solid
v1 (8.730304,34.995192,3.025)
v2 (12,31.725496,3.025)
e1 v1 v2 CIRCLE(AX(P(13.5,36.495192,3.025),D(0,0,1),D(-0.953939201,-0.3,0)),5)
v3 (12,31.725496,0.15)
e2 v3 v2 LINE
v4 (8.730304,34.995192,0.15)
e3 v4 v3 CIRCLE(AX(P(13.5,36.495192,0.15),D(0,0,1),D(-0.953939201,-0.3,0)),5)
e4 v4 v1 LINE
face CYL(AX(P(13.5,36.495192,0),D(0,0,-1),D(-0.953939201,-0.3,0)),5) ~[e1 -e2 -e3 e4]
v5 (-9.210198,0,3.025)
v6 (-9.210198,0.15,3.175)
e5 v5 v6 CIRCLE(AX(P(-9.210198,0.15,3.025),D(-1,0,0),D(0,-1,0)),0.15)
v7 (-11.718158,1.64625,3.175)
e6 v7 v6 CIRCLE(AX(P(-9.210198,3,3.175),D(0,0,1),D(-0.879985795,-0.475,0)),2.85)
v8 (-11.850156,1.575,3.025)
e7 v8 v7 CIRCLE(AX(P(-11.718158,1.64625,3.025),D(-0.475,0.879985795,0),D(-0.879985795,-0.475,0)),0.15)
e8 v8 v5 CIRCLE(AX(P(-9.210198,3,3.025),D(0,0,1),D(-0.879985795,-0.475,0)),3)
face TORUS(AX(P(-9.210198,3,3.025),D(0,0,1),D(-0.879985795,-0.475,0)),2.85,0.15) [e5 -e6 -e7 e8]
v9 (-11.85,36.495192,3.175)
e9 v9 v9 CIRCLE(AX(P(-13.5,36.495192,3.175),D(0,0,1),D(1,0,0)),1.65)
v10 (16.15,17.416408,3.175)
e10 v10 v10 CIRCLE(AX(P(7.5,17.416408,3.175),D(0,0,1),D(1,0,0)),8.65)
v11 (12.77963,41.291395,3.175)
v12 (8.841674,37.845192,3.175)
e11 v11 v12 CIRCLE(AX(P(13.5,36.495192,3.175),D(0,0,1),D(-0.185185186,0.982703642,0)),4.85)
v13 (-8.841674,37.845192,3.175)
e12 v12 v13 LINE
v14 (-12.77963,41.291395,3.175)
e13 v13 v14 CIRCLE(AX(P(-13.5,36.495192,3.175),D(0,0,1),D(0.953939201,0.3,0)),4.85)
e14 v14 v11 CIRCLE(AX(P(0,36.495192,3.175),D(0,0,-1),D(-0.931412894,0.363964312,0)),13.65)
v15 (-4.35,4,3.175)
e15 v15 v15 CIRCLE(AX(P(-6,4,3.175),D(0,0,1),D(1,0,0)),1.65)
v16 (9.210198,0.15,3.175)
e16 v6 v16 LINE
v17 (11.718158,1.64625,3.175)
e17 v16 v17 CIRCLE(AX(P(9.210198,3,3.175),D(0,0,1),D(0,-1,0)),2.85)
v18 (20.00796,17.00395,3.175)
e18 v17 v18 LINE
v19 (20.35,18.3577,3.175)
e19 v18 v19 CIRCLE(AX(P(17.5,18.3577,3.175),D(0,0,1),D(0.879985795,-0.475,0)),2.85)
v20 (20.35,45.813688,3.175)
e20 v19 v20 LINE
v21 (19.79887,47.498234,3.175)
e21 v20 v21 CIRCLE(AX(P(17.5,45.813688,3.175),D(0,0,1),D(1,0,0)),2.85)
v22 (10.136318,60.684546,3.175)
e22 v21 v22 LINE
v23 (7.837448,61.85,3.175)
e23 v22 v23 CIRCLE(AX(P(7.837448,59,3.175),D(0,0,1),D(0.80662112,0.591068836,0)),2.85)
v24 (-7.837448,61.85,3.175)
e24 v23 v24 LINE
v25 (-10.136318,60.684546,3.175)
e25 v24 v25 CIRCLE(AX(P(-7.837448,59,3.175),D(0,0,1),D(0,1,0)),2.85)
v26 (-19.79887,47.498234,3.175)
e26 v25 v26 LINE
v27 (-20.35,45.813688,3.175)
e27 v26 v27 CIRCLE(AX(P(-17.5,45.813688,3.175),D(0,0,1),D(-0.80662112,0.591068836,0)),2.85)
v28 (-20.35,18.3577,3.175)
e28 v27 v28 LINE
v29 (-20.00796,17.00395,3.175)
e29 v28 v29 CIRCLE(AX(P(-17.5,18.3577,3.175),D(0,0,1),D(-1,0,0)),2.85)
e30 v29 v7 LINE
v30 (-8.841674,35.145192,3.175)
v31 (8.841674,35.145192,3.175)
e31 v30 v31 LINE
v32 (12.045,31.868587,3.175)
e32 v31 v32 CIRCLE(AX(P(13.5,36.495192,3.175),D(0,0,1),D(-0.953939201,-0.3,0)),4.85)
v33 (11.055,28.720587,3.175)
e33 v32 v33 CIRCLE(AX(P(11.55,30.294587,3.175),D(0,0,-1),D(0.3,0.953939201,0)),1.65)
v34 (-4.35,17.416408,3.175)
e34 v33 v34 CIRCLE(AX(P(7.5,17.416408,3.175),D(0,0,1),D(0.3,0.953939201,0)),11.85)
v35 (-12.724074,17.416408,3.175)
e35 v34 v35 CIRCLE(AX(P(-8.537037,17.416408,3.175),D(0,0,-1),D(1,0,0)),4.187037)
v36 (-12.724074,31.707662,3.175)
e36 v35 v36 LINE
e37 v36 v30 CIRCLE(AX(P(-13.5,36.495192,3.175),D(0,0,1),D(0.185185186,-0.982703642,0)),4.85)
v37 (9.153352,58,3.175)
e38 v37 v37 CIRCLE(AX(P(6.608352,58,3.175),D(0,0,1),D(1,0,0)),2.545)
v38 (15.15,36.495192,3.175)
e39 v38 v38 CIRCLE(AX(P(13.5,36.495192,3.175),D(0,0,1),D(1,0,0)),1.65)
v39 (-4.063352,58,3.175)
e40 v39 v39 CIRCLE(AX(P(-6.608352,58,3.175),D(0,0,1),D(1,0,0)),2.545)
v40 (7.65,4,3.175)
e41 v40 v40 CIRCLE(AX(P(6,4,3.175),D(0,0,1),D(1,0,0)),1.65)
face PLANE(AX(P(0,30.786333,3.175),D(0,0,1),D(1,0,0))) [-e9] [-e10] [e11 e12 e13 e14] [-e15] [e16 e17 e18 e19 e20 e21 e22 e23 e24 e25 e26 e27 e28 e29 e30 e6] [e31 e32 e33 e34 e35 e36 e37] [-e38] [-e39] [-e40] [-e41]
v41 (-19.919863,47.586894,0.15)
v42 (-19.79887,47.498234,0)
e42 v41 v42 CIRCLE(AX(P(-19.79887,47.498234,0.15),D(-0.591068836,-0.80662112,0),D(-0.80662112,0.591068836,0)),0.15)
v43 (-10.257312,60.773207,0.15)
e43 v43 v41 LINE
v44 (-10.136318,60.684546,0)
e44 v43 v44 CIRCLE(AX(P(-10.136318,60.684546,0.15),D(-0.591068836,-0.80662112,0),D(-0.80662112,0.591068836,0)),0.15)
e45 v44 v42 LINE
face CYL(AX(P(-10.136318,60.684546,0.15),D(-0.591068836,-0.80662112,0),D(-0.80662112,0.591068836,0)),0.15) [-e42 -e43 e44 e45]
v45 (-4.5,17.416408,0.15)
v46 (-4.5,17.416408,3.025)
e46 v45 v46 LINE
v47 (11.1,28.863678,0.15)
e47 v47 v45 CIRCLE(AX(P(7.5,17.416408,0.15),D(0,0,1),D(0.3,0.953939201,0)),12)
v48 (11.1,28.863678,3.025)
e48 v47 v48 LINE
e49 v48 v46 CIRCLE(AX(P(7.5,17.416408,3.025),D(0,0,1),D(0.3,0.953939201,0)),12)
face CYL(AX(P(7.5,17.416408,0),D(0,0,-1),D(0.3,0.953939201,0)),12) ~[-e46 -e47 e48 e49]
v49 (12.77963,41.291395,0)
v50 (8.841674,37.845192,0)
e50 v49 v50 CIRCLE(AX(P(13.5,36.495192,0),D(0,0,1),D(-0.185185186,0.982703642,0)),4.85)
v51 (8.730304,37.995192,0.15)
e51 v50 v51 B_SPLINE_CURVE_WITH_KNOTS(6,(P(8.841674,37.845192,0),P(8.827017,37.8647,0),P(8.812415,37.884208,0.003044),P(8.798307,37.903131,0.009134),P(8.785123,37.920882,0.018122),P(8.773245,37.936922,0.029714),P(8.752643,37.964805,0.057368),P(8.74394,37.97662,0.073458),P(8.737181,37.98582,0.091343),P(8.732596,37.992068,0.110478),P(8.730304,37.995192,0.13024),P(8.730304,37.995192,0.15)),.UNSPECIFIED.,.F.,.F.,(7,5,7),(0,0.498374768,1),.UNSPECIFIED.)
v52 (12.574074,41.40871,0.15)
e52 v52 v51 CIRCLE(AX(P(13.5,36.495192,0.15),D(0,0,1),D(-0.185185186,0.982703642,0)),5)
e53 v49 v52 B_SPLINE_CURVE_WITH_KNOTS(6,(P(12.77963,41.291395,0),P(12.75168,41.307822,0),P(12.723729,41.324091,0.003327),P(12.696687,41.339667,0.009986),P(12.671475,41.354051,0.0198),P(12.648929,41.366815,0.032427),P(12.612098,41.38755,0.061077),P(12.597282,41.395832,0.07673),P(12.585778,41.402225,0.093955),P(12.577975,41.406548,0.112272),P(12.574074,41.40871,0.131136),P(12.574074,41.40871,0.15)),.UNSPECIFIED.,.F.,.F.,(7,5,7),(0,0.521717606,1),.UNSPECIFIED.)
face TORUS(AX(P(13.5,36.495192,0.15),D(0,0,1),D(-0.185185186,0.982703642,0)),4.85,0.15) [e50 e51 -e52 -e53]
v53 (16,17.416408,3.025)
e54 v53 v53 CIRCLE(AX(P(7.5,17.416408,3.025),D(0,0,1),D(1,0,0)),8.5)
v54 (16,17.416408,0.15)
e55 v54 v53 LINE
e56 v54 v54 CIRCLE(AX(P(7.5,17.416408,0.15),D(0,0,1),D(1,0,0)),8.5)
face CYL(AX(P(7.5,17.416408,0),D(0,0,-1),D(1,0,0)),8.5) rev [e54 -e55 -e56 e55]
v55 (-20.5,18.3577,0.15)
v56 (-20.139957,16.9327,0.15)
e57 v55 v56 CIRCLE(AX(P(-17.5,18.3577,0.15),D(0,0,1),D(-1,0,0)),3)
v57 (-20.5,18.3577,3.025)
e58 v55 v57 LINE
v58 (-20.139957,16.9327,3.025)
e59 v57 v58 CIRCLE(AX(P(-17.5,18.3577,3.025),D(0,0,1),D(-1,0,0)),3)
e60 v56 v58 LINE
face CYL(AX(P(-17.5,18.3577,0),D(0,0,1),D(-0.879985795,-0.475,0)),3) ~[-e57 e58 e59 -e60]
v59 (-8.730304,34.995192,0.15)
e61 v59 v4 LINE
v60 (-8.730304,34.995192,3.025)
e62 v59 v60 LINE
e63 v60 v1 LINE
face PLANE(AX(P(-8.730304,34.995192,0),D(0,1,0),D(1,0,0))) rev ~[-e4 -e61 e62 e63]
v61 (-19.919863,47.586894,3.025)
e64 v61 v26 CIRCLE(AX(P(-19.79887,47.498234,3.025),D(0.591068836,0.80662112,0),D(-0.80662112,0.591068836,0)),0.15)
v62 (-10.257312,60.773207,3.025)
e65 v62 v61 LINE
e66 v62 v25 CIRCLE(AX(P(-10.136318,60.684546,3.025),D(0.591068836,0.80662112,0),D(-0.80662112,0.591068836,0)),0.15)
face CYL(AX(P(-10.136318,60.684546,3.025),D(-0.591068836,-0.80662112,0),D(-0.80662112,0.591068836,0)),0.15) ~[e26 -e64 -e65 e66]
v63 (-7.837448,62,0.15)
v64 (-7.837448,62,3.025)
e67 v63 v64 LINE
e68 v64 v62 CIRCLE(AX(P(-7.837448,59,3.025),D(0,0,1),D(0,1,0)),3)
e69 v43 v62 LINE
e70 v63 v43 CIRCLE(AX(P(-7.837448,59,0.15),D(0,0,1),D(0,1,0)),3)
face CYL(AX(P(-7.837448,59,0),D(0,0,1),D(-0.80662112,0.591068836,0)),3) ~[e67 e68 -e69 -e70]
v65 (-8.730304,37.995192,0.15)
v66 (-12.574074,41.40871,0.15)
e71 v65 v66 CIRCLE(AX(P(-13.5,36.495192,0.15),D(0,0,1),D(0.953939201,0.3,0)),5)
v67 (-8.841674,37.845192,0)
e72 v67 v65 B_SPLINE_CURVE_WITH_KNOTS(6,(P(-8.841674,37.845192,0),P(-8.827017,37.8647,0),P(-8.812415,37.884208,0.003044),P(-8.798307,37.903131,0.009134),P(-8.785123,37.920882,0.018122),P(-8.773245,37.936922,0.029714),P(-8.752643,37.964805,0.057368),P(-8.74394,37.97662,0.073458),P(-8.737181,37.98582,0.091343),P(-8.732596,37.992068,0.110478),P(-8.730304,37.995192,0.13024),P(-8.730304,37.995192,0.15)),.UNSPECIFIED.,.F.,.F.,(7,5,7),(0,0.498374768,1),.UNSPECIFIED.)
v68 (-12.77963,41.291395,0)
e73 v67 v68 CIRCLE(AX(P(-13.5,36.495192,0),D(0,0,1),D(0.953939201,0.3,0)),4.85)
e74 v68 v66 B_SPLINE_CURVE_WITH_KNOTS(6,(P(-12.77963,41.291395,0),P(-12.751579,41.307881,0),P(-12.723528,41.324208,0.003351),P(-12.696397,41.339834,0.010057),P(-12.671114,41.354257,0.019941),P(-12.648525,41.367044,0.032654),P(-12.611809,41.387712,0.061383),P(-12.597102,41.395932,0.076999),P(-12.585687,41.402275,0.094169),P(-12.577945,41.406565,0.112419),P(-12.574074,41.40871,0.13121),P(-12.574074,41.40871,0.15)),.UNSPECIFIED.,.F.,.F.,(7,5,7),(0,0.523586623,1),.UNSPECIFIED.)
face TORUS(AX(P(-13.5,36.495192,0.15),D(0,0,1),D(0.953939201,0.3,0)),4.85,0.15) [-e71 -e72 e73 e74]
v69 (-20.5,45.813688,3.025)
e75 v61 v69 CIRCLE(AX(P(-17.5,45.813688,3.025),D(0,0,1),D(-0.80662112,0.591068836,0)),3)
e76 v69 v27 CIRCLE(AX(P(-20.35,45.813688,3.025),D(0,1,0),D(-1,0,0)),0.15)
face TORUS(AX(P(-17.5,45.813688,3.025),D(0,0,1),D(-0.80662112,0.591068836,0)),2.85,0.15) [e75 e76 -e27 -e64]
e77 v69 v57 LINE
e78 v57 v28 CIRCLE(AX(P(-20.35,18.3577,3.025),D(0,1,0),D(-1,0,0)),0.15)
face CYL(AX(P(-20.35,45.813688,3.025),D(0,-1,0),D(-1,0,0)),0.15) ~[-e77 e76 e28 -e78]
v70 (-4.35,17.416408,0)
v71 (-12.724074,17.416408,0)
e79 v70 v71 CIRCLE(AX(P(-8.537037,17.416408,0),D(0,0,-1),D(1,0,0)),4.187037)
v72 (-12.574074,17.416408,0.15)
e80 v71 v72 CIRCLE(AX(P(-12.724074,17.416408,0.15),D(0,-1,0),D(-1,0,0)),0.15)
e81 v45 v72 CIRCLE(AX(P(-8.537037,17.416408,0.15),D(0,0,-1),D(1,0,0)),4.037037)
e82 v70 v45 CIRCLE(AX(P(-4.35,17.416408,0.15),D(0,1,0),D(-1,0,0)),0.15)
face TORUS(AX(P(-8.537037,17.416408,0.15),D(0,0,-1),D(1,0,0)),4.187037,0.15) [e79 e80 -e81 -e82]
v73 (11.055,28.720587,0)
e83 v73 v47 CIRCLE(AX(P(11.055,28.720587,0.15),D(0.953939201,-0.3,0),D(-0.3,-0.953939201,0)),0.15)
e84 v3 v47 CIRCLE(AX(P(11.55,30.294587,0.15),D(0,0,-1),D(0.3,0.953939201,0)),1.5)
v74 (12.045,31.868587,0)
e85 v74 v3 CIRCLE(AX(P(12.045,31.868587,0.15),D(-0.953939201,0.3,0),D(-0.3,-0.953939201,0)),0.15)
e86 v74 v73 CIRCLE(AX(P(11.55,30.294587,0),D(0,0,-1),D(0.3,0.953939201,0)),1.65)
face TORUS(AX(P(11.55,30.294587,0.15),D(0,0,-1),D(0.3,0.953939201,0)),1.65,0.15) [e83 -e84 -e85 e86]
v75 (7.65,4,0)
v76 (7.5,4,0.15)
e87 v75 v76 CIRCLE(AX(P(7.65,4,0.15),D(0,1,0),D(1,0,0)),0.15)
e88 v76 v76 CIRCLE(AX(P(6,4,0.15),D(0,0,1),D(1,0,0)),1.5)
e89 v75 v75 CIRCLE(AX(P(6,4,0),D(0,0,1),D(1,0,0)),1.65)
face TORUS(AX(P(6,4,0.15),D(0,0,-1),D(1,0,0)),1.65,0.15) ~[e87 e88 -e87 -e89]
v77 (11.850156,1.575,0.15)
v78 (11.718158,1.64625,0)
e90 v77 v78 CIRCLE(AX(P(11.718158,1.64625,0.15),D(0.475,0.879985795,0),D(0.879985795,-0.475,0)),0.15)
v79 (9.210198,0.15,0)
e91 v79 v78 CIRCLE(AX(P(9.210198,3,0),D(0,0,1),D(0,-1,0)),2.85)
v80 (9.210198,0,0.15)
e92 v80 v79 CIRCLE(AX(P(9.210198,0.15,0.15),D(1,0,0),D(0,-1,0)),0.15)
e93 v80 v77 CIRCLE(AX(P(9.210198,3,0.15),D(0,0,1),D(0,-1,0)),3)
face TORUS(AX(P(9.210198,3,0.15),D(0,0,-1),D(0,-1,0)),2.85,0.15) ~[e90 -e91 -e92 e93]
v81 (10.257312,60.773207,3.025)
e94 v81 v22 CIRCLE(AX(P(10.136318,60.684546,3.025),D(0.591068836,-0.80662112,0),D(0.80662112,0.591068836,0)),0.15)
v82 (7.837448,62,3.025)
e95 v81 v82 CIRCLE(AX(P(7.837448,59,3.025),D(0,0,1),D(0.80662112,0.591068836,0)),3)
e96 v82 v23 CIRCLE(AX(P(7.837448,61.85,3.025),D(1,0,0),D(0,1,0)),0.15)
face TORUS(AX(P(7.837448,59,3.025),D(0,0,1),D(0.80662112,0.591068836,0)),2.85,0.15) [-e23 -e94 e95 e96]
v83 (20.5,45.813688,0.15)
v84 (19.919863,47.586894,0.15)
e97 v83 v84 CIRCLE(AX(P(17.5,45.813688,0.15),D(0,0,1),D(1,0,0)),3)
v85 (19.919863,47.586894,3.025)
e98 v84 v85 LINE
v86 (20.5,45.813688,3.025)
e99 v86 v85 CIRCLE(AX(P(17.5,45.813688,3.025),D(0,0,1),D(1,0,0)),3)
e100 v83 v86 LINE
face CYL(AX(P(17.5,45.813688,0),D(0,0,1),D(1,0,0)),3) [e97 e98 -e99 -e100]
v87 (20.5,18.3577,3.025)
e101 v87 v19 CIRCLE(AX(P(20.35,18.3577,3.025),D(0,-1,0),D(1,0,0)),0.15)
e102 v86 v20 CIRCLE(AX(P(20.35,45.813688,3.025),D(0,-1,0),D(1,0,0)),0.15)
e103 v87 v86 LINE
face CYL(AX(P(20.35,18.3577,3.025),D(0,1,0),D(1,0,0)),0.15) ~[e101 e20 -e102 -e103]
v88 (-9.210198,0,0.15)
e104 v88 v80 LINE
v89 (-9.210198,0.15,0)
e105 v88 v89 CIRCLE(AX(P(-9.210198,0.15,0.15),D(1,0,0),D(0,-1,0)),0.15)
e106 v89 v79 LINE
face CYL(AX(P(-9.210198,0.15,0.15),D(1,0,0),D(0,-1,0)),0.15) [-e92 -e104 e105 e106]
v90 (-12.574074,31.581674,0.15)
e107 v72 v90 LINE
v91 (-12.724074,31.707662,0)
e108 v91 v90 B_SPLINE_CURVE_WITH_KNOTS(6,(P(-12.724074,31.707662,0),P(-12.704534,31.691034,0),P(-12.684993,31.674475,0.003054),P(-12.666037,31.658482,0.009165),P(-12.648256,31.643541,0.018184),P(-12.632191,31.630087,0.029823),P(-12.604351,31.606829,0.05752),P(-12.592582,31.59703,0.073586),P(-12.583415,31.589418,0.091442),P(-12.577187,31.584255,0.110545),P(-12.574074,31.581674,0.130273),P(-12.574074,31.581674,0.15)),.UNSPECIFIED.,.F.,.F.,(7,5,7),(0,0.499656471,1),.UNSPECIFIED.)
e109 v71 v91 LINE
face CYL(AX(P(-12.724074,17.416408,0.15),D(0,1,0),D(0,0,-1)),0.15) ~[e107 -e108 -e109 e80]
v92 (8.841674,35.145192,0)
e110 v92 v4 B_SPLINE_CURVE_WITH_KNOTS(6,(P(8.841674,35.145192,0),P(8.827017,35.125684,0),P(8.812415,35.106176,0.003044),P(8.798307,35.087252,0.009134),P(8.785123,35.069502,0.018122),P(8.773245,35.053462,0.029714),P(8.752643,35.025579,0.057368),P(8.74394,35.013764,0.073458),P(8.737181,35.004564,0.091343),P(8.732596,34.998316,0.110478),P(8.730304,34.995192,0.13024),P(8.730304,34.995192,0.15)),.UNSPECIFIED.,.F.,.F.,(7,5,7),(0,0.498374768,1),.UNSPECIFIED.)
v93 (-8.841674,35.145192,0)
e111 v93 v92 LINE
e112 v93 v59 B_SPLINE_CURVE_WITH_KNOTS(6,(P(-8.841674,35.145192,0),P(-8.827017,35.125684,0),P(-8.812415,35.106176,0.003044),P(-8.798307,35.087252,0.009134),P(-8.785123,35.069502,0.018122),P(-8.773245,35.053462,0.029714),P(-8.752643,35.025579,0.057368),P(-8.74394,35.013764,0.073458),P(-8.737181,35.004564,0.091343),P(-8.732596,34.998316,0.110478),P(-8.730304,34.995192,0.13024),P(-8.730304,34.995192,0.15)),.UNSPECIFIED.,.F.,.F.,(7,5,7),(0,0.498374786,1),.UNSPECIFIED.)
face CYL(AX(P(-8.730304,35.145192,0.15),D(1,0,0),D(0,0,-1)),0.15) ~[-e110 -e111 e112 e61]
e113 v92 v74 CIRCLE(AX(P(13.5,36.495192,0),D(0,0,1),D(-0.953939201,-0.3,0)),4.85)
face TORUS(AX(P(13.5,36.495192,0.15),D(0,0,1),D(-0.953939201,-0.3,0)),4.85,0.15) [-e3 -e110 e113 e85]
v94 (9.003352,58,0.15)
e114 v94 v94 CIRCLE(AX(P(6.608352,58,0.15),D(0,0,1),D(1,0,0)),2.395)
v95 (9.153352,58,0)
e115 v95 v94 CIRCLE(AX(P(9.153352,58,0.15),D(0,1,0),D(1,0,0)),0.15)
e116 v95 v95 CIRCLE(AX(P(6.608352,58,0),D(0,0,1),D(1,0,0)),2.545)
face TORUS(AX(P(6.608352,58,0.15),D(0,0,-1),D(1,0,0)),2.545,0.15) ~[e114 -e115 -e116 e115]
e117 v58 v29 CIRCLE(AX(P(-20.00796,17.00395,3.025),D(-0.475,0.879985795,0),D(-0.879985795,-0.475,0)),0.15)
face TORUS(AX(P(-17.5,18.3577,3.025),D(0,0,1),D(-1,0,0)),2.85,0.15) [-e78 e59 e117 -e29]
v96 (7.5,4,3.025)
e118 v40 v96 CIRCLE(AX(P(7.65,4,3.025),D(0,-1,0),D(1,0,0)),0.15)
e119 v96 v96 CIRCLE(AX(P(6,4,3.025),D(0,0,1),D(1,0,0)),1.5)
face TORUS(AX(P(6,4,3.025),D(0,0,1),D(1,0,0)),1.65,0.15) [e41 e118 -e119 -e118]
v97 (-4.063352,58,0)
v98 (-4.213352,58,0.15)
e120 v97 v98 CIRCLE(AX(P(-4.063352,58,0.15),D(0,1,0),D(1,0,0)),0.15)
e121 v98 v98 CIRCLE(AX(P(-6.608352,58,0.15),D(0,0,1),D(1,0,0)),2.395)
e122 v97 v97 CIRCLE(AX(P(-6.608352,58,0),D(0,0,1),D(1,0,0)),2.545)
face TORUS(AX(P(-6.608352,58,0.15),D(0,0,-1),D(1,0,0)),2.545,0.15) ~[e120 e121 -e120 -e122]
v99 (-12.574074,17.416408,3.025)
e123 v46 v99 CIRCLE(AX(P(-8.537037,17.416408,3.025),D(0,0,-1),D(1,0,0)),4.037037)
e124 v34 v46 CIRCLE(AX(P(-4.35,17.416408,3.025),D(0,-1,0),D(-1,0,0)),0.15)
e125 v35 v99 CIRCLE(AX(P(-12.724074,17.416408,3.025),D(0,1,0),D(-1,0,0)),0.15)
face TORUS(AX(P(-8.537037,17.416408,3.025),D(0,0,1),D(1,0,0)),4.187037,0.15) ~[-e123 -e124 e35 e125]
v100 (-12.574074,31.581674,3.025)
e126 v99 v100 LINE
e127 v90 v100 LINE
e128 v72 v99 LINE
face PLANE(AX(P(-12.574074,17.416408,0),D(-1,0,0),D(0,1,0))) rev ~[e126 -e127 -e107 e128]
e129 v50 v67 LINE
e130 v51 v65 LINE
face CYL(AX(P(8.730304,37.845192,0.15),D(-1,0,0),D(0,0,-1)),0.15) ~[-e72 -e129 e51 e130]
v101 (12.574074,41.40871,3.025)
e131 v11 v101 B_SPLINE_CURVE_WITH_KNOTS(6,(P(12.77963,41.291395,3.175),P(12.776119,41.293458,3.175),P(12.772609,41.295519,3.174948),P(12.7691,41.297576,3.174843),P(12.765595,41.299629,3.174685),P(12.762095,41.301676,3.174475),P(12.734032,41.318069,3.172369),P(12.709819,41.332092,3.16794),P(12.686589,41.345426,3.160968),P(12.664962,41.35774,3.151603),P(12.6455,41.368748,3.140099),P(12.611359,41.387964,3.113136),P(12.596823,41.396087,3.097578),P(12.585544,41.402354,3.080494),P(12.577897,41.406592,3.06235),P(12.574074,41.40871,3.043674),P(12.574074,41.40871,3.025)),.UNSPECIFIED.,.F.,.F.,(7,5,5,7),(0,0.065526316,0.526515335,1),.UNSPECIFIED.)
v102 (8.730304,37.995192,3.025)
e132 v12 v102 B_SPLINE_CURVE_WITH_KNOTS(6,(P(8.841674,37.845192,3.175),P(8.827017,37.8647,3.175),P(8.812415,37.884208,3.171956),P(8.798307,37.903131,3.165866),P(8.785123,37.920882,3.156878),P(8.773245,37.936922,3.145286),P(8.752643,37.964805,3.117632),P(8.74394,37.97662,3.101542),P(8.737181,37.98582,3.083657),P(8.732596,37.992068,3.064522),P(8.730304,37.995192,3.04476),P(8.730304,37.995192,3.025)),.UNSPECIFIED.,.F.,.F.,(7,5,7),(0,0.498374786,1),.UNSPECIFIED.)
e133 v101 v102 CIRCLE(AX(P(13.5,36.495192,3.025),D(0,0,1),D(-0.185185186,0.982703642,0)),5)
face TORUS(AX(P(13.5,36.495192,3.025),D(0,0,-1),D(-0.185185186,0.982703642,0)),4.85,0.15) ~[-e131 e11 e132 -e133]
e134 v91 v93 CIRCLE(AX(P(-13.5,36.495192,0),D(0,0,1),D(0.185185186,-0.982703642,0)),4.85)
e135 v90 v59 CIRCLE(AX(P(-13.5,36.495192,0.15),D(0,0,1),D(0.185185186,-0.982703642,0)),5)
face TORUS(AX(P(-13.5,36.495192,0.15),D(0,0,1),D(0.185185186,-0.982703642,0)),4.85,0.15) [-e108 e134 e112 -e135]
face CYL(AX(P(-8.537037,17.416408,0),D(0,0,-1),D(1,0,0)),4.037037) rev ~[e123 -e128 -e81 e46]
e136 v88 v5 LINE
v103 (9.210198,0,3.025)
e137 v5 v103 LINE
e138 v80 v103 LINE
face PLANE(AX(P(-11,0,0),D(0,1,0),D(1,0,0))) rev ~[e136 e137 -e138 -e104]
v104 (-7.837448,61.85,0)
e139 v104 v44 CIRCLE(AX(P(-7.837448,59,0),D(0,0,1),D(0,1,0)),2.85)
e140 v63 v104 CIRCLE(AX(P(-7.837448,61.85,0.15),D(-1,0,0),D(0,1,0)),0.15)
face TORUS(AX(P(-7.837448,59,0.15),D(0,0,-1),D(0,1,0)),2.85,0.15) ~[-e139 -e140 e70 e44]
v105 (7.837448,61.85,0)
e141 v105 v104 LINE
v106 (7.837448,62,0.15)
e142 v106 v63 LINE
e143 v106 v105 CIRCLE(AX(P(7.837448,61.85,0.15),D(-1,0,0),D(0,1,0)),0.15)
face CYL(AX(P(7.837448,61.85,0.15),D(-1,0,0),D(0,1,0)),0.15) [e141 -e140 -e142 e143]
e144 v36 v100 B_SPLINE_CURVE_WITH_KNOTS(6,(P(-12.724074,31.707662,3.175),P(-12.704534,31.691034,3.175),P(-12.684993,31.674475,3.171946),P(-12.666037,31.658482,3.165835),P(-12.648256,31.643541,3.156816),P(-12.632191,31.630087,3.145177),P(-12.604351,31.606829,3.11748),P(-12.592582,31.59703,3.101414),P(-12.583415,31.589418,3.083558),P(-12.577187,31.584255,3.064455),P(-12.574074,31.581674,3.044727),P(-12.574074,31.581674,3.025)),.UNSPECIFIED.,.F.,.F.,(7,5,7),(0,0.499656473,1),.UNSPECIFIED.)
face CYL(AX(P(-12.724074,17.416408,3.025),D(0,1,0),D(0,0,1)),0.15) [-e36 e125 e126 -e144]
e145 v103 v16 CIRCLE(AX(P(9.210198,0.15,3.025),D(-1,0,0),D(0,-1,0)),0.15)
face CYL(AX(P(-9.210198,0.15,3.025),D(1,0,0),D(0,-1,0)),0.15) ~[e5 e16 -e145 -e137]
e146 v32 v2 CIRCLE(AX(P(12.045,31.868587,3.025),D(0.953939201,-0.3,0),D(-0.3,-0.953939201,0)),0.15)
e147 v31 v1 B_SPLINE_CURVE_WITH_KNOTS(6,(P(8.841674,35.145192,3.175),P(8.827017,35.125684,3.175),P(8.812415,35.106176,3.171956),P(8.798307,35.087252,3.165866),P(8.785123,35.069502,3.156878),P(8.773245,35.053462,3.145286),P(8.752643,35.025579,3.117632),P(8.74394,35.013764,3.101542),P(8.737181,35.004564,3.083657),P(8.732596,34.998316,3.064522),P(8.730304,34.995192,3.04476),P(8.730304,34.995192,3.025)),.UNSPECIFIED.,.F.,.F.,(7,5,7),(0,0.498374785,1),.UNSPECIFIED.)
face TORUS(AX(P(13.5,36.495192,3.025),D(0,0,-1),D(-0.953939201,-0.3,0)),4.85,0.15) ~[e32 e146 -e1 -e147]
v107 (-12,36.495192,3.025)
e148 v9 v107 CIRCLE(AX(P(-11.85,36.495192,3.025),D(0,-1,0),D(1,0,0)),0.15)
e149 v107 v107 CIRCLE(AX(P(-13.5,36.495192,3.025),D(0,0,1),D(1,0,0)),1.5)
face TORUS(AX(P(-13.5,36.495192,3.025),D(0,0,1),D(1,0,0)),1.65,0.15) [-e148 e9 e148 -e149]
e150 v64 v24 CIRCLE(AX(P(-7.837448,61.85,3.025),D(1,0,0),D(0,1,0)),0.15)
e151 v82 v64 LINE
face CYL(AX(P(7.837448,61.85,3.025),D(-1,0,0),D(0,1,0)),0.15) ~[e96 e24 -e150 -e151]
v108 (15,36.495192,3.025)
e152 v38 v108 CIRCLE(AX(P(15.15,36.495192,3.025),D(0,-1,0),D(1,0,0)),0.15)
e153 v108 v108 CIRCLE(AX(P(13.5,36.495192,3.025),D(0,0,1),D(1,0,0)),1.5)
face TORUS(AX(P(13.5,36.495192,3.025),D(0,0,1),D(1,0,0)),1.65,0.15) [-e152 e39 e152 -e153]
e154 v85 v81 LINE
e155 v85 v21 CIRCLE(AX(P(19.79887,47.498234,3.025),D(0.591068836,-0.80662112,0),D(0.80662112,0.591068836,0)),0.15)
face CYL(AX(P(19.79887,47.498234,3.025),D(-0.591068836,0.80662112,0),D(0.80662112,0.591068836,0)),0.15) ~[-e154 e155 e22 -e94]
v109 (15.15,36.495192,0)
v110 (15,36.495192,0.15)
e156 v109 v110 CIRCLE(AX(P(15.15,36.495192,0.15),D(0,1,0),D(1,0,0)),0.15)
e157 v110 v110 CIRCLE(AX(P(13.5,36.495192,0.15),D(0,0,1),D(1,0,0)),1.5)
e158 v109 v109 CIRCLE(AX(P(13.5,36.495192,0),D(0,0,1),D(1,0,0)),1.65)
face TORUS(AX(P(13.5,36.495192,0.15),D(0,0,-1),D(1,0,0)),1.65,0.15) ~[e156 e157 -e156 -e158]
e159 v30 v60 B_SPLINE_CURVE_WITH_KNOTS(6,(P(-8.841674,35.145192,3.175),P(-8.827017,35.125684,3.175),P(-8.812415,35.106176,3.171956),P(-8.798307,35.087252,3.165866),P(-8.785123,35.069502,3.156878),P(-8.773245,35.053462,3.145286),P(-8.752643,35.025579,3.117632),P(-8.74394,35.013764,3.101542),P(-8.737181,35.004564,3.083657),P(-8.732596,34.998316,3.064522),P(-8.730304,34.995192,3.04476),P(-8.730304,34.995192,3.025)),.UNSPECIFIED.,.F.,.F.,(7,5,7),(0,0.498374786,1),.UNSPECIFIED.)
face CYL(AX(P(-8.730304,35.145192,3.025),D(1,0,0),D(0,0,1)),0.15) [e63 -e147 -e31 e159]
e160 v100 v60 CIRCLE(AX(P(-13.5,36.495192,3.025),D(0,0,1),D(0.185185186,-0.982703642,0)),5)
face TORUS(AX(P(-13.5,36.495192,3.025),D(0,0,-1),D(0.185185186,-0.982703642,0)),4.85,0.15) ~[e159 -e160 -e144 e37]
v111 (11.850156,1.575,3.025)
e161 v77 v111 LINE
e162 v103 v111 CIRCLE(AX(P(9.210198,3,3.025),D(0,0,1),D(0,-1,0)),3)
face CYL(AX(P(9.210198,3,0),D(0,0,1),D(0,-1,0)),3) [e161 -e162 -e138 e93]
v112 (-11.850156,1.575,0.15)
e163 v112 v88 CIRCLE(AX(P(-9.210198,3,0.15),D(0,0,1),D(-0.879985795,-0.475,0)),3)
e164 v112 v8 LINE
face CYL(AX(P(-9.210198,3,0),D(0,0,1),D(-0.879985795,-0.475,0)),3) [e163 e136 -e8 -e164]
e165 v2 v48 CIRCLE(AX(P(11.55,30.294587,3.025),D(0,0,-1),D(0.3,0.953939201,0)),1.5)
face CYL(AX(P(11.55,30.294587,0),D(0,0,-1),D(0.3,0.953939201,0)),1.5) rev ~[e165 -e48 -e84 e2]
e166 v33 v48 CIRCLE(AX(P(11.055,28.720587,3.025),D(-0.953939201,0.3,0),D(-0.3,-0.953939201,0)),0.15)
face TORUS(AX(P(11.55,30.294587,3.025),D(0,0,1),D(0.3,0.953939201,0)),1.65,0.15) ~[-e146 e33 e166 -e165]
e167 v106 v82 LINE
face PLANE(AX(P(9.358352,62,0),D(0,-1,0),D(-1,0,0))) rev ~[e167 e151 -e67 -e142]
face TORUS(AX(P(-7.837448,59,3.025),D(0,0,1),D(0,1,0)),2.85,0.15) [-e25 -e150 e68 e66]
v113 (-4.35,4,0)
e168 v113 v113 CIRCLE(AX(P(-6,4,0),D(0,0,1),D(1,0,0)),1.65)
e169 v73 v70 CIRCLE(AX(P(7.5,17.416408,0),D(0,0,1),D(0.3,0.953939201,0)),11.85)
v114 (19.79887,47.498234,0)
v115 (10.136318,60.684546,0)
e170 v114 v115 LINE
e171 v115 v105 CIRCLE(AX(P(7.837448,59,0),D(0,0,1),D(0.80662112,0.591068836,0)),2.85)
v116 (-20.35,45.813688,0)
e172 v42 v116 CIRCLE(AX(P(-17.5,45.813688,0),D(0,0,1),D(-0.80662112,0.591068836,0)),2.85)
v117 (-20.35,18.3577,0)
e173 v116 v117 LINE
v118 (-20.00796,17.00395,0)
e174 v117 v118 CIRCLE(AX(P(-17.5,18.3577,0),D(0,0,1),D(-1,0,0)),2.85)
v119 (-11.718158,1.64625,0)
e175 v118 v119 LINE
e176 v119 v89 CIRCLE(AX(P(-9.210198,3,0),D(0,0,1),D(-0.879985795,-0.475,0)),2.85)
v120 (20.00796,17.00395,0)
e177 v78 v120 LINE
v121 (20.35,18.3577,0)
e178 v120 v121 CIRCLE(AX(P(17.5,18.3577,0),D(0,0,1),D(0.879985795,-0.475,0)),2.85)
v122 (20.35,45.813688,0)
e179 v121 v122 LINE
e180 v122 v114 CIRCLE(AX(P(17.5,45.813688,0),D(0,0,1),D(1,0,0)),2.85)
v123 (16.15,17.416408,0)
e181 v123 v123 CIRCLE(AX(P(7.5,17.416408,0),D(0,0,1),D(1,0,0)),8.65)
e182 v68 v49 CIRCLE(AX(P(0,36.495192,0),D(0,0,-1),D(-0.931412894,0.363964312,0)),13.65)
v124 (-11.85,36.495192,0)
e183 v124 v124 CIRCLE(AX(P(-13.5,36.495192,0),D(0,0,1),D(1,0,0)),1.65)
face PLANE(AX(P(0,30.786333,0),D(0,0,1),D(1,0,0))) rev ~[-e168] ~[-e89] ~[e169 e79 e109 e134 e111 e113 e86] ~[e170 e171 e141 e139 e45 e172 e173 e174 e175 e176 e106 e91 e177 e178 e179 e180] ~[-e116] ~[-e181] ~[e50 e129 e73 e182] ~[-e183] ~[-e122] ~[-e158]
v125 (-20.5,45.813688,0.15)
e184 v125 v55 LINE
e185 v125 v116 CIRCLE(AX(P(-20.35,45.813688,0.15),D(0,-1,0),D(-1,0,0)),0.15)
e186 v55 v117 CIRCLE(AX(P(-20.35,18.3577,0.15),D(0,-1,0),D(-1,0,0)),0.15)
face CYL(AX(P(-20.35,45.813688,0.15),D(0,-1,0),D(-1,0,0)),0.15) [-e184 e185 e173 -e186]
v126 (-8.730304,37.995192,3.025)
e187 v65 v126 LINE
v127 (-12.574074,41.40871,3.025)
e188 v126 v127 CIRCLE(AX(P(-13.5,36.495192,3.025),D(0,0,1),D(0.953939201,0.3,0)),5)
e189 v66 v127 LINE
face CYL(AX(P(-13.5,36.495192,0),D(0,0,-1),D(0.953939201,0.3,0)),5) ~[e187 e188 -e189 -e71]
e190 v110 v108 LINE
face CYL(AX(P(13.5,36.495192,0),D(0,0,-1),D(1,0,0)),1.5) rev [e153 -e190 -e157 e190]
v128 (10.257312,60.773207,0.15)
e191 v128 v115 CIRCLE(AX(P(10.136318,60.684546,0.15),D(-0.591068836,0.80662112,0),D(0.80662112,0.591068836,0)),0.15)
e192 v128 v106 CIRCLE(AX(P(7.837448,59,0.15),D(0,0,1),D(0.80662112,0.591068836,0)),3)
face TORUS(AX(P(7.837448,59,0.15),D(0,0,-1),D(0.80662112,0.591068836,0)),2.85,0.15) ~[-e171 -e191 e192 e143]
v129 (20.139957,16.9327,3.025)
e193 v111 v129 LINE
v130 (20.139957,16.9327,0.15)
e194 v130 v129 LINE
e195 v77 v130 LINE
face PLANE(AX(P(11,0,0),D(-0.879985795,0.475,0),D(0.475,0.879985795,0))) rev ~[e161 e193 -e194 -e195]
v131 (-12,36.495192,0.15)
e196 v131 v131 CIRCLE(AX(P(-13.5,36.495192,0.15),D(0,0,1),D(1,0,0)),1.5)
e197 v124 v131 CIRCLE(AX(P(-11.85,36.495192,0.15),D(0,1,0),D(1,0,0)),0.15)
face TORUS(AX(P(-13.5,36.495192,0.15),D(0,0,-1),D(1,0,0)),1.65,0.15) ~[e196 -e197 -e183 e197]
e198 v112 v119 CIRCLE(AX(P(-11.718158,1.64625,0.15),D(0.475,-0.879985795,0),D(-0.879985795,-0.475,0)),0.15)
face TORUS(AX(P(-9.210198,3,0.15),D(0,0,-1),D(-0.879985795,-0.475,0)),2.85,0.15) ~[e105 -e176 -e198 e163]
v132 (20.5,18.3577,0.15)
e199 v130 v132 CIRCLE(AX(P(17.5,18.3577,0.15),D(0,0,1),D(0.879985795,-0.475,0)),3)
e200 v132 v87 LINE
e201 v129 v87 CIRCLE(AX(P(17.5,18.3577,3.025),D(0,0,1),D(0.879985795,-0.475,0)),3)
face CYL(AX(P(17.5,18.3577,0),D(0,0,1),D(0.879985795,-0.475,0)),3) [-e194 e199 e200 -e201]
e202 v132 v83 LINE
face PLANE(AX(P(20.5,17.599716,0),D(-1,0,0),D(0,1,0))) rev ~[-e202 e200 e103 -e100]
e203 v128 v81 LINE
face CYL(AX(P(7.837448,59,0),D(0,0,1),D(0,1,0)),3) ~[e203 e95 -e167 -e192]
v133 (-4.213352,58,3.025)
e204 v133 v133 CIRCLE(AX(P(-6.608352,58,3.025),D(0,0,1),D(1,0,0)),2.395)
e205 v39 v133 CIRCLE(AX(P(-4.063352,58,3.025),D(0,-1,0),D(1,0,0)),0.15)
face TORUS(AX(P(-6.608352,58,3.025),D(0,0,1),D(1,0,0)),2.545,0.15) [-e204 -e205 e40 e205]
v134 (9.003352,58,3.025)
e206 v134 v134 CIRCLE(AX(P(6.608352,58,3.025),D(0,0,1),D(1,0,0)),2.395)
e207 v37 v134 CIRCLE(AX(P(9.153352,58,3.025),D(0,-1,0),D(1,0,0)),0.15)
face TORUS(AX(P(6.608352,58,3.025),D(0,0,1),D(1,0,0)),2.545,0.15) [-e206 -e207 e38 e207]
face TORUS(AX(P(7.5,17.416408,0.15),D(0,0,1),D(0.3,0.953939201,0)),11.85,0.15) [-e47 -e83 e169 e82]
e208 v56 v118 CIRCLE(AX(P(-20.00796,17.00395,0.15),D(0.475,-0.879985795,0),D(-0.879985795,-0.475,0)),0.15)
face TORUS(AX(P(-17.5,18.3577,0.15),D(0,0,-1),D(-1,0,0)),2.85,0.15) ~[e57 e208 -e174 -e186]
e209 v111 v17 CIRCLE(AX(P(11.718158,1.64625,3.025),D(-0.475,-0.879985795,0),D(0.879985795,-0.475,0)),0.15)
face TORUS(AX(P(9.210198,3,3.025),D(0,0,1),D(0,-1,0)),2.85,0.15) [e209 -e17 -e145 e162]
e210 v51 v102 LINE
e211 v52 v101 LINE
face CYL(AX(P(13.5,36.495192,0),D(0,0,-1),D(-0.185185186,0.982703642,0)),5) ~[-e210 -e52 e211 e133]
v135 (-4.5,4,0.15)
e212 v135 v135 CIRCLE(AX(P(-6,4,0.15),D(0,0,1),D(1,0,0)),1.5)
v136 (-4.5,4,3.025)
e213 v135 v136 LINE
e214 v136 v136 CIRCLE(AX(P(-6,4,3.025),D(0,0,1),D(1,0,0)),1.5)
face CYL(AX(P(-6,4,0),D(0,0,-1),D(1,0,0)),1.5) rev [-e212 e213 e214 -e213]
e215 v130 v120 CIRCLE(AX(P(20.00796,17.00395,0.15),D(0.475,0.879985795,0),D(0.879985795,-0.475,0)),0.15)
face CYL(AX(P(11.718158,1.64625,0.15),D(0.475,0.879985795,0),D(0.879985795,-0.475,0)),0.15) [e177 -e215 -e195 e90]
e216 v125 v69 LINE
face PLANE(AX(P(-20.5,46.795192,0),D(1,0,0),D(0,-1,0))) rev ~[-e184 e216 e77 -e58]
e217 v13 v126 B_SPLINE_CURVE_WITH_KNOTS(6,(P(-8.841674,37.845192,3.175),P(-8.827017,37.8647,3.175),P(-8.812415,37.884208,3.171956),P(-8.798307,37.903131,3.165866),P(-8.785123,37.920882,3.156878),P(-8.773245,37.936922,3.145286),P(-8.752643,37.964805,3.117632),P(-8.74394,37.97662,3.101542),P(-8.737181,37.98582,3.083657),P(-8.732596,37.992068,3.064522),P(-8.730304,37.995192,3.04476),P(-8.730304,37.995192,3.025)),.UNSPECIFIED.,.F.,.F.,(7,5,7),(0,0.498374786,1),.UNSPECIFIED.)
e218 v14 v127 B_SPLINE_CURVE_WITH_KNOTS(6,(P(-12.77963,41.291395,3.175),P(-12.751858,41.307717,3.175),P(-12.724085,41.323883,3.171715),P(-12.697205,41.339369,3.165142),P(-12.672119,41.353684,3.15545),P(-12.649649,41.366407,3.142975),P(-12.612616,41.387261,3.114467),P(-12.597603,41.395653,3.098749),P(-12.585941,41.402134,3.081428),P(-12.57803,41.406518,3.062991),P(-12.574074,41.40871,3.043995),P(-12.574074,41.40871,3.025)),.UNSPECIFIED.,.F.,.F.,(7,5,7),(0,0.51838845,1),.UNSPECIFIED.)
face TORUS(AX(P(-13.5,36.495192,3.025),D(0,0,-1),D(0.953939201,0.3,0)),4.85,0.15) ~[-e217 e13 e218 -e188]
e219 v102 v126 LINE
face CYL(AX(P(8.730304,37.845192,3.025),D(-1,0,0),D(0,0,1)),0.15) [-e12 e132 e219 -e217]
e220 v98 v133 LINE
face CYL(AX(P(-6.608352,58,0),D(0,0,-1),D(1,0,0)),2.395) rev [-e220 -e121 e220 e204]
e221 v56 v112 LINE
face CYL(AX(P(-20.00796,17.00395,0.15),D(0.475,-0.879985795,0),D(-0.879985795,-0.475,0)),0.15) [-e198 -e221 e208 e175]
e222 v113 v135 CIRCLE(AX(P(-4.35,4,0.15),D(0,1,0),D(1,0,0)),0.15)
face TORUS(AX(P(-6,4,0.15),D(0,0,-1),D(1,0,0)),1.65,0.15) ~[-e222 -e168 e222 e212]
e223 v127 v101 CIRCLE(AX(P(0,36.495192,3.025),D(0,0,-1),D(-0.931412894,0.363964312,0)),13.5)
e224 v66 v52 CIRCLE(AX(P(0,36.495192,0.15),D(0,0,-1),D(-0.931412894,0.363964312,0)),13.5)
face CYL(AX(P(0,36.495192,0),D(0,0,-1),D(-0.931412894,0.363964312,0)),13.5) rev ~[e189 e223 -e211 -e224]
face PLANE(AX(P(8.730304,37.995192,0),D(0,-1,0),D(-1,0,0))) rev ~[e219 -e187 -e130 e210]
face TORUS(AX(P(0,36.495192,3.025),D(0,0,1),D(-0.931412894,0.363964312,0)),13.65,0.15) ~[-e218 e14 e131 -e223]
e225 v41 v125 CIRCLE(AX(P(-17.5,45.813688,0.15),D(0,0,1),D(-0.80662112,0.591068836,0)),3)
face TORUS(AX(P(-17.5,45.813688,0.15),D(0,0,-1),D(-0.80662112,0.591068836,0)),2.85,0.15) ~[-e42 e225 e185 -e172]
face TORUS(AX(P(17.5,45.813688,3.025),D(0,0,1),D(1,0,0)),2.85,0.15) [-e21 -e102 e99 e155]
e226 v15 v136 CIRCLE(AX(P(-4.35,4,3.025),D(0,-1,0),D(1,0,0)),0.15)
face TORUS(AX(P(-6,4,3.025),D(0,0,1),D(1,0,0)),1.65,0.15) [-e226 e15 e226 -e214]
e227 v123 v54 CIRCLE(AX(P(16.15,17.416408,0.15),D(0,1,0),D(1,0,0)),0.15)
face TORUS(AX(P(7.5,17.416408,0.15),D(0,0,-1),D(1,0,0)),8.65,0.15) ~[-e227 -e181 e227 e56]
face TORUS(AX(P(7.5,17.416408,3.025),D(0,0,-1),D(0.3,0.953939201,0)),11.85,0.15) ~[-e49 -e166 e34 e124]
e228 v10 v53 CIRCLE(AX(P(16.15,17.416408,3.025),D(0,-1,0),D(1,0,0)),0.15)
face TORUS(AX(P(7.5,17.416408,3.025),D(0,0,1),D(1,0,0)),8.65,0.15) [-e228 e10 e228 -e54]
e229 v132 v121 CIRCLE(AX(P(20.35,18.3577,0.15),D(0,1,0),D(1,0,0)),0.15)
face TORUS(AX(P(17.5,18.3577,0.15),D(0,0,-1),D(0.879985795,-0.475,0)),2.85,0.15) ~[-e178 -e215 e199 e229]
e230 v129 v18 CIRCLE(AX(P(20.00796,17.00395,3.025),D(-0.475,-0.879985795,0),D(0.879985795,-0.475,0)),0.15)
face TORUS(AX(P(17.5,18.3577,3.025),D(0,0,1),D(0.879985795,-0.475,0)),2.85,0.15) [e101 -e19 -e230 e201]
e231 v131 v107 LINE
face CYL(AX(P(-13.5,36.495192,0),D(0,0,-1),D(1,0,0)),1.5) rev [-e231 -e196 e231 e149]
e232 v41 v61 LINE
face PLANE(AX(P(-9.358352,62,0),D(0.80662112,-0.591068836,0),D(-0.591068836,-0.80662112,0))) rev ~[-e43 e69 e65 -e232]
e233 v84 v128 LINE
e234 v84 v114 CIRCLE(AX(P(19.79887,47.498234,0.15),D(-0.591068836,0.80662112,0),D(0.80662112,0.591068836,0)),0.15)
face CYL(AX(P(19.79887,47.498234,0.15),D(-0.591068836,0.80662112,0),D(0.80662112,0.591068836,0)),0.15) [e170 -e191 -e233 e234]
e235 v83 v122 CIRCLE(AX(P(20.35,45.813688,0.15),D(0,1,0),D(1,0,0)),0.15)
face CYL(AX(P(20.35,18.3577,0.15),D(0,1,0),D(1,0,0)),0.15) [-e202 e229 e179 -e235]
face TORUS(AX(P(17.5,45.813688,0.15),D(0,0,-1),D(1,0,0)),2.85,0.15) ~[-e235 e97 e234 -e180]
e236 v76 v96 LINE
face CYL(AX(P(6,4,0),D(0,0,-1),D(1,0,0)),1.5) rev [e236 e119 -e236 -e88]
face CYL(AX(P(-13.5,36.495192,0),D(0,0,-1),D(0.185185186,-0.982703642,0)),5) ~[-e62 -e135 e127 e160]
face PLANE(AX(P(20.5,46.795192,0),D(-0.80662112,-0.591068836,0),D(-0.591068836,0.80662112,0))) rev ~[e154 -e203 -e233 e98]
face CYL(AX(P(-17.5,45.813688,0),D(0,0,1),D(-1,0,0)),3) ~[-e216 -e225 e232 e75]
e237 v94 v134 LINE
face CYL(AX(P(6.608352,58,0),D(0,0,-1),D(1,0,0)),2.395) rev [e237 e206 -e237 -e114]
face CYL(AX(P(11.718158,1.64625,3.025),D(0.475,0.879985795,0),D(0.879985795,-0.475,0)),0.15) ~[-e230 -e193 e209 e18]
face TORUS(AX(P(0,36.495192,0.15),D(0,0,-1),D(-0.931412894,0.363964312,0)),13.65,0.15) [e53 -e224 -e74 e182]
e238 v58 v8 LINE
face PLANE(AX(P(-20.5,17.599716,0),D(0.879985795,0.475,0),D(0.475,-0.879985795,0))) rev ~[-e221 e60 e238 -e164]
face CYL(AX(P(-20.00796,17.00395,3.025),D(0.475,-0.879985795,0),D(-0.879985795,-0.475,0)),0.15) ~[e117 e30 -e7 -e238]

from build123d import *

# Parameters (mm, degrees)
SKETCH2_R           = 1.5
SKETCH2_R_2         = 2.395
SKETCH2_R_3         = 8.5
BOSS_EXTRUDE1_DEPTH = 3.175
FILLET1_R           = 3
FILLET2_R           = 0.15


with BuildPart() as part:
    # Sketch2 → Boss-Extrude1 (new body)
    with BuildSketch(Plane.XY):
        Polygon((-20.5, 17.599715907), (-11, 0), (11, 0), (20.5, 17.599715907), (20.5, 46.795191893), (9.358352436, 62), (-9.358352436, 62), (-20.5, 46.795191893), align=None)
        with BuildLine():
            ThreePointArc((12, 31.725495886), (12.980908802, 29.844587084), (11.1, 28.863678282))
            ThreePointArc((11.1, 28.863678282), (0.40070426, 27.091117163), (-4.5, 17.416407865))
            ThreePointArc((-4.5, 17.416407865), (-8.537037037, 13.379370828), (-12.574074074, 17.416407865))
            Line((-12.574074074, 17.416407865), (-12.574074074, 31.581673685))
            ThreePointArc((-12.574074074, 31.581673685), (-10.179901517, 32.756616488), (-8.730303993, 34.995191893))
            Line((-8.730303993, 34.995191893), (8.730303993, 34.995191893))
            ThreePointArc((8.730303993, 34.995191893), (9.964466094, 32.959657987), (12, 31.725495886))
        make_face(mode=Mode.SUBTRACT)
        with BuildLine():
            ThreePointArc((-12.574074074, 41.408710101), (0, 49.995191893), (12.574074074, 41.408710101))
            ThreePointArc((12.574074074, 41.408710101), (10.179901517, 40.233767298), (8.730303993, 37.995191893))
            Line((8.730303993, 37.995191893), (-8.730303993, 37.995191893))
            ThreePointArc((-8.730303993, 37.995191893), (-10.179901517, 40.233767298), (-12.574074074, 41.408710101))
        make_face(mode=Mode.SUBTRACT)
        with Locations((-6, 4)):
            Circle(SKETCH2_R, mode=Mode.SUBTRACT)
        with Locations((6, 4)):
            Circle(SKETCH2_R, mode=Mode.SUBTRACT)
        with Locations((-6.608352436, 58)):
            Circle(SKETCH2_R_2, mode=Mode.SUBTRACT)
        with Locations((6.608352436, 58)):
            Circle(SKETCH2_R_2, mode=Mode.SUBTRACT)
        with Locations((7.5, 17.416407865)):
            Circle(SKETCH2_R_3, mode=Mode.SUBTRACT)
        with Locations((13.5, 36.495191893)):
            Circle(SKETCH2_R, mode=Mode.SUBTRACT)
        with Locations((-13.5, 36.495191893)):
            Circle(SKETCH2_R, mode=Mode.SUBTRACT)
    extrude(amount=BOSS_EXTRUDE1_DEPTH)

    # Fillet1
    fillet1_edges = [part.edges().sort_by_distance(p)[0] for p in [
        (-11, 0, 1.5875),
        (-20.5, 17.599715907, 1.5875),
        (-20.5, 46.795191893, 1.5875),
        (-9.358352436, 62, 1.5875),
        (9.358352436, 62, 1.5875),
        (20.5, 46.795191893, 1.5875),
        (20.5, 17.599715907, 1.5875),
        (11, 0, 1.5875),
    ]]
    fillet(fillet1_edges, radius=FILLET1_R)

    # Fillet2
    fillet2_edges = [part.edges().sort_by_distance(p)[0] for p in [
        (-15.995056577, 9.253850179, 0),
        (-15.995056577, 9.253850179, 3.175),
        (-20.408596926, 17.622809943, 0),
        (-10.747240997, 0.423665394, 0),
        (-20.5, 32.085693944, 0),
        (0, 0, 0),
        (-20.351279544, 46.746535301, 0),
        (10.747240997, 0.423665394, 0),
        (-15.088587451, 54.180050275, 0),
        (15.995056577, 9.253850179, 0),
        (-9.193984301, 61.675782084, 0),
        (20.408596926, 17.622809943, 0),
        (0, 62, 0),
        (20.5, 32.085693944, 0),
        (9.193984301, 61.675782084, 0),
        (20.351279544, 46.746535301, 0),
        (15.088587451, 54.180050275, 0),
        (0.40070426, 27.091117163, 0),
        (-8.537037037, 13.379370828, 0),
        (-12.574074074, 24.499040775, 0),
        (-10.179901517, 32.756616488, 0),
        (0, 34.995191893, 0),
        (9.964466094, 32.959657987, 0),
        (12.980908802, 29.844587084, 0),
        (0, 49.995191893, 0),
        (10.179901517, 40.233767298, 0),
        (0, 37.995191893, 0),
        (-10.179901517, 40.233767298, 0),
        (-7.5, 4, 0),
        (4.5, 4, 0),
        (-9.003352436, 58, 0),
        (4.213352436, 58, 0),
        (-1, 17.416407865, 0),
        (12, 36.495191893, 0),
        (-15, 36.495191893, 0),
        (-20.408596926, 17.622809943, 3.175),
        (-10.747240997, 0.423665394, 3.175),
        (-20.5, 32.085693944, 3.175),
        (0, 0, 3.175),
        (-20.351279544, 46.746535301, 3.175),
        (10.747240997, 0.423665394, 3.175),
        (-15.088587451, 54.180050275, 3.175),
        (15.995056577, 9.253850179, 3.175),
        (-9.193984301, 61.675782084, 3.175),
        (20.408596926, 17.622809943, 3.175),
        (0, 62, 3.175),
        (20.5, 32.085693944, 3.175),
        (9.193984301, 61.675782084, 3.175),
        (20.351279544, 46.746535301, 3.175),
        (15.088587451, 54.180050275, 3.175),
        (0.40070426, 27.091117163, 3.175),
        (-8.537037037, 13.379370828, 3.175),
        (-12.574074074, 24.499040775, 3.175),
        (-10.179901517, 32.756616488, 3.175),
        (0, 34.995191893, 3.175),
        (9.964466094, 32.959657987, 3.175),
        (12.980908802, 29.844587084, 3.175),
        (0, 49.995191893, 3.175),
        (10.179901517, 40.233767298, 3.175),
        (0, 37.995191893, 3.175),
        (-10.179901517, 40.233767298, 3.175),
        (-7.5, 4, 3.175),
        (4.5, 4, 3.175),
        (-9.003352436, 58, 3.175),
        (4.213352436, 58, 3.175),
        (-1, 17.416407865, 3.175),
        (12, 36.495191893, 3.175),
        (-15, 36.495191893, 3.175),
    ]]
    fillet(fillet2_edges, radius=FILLET2_R)


solid = part.part
